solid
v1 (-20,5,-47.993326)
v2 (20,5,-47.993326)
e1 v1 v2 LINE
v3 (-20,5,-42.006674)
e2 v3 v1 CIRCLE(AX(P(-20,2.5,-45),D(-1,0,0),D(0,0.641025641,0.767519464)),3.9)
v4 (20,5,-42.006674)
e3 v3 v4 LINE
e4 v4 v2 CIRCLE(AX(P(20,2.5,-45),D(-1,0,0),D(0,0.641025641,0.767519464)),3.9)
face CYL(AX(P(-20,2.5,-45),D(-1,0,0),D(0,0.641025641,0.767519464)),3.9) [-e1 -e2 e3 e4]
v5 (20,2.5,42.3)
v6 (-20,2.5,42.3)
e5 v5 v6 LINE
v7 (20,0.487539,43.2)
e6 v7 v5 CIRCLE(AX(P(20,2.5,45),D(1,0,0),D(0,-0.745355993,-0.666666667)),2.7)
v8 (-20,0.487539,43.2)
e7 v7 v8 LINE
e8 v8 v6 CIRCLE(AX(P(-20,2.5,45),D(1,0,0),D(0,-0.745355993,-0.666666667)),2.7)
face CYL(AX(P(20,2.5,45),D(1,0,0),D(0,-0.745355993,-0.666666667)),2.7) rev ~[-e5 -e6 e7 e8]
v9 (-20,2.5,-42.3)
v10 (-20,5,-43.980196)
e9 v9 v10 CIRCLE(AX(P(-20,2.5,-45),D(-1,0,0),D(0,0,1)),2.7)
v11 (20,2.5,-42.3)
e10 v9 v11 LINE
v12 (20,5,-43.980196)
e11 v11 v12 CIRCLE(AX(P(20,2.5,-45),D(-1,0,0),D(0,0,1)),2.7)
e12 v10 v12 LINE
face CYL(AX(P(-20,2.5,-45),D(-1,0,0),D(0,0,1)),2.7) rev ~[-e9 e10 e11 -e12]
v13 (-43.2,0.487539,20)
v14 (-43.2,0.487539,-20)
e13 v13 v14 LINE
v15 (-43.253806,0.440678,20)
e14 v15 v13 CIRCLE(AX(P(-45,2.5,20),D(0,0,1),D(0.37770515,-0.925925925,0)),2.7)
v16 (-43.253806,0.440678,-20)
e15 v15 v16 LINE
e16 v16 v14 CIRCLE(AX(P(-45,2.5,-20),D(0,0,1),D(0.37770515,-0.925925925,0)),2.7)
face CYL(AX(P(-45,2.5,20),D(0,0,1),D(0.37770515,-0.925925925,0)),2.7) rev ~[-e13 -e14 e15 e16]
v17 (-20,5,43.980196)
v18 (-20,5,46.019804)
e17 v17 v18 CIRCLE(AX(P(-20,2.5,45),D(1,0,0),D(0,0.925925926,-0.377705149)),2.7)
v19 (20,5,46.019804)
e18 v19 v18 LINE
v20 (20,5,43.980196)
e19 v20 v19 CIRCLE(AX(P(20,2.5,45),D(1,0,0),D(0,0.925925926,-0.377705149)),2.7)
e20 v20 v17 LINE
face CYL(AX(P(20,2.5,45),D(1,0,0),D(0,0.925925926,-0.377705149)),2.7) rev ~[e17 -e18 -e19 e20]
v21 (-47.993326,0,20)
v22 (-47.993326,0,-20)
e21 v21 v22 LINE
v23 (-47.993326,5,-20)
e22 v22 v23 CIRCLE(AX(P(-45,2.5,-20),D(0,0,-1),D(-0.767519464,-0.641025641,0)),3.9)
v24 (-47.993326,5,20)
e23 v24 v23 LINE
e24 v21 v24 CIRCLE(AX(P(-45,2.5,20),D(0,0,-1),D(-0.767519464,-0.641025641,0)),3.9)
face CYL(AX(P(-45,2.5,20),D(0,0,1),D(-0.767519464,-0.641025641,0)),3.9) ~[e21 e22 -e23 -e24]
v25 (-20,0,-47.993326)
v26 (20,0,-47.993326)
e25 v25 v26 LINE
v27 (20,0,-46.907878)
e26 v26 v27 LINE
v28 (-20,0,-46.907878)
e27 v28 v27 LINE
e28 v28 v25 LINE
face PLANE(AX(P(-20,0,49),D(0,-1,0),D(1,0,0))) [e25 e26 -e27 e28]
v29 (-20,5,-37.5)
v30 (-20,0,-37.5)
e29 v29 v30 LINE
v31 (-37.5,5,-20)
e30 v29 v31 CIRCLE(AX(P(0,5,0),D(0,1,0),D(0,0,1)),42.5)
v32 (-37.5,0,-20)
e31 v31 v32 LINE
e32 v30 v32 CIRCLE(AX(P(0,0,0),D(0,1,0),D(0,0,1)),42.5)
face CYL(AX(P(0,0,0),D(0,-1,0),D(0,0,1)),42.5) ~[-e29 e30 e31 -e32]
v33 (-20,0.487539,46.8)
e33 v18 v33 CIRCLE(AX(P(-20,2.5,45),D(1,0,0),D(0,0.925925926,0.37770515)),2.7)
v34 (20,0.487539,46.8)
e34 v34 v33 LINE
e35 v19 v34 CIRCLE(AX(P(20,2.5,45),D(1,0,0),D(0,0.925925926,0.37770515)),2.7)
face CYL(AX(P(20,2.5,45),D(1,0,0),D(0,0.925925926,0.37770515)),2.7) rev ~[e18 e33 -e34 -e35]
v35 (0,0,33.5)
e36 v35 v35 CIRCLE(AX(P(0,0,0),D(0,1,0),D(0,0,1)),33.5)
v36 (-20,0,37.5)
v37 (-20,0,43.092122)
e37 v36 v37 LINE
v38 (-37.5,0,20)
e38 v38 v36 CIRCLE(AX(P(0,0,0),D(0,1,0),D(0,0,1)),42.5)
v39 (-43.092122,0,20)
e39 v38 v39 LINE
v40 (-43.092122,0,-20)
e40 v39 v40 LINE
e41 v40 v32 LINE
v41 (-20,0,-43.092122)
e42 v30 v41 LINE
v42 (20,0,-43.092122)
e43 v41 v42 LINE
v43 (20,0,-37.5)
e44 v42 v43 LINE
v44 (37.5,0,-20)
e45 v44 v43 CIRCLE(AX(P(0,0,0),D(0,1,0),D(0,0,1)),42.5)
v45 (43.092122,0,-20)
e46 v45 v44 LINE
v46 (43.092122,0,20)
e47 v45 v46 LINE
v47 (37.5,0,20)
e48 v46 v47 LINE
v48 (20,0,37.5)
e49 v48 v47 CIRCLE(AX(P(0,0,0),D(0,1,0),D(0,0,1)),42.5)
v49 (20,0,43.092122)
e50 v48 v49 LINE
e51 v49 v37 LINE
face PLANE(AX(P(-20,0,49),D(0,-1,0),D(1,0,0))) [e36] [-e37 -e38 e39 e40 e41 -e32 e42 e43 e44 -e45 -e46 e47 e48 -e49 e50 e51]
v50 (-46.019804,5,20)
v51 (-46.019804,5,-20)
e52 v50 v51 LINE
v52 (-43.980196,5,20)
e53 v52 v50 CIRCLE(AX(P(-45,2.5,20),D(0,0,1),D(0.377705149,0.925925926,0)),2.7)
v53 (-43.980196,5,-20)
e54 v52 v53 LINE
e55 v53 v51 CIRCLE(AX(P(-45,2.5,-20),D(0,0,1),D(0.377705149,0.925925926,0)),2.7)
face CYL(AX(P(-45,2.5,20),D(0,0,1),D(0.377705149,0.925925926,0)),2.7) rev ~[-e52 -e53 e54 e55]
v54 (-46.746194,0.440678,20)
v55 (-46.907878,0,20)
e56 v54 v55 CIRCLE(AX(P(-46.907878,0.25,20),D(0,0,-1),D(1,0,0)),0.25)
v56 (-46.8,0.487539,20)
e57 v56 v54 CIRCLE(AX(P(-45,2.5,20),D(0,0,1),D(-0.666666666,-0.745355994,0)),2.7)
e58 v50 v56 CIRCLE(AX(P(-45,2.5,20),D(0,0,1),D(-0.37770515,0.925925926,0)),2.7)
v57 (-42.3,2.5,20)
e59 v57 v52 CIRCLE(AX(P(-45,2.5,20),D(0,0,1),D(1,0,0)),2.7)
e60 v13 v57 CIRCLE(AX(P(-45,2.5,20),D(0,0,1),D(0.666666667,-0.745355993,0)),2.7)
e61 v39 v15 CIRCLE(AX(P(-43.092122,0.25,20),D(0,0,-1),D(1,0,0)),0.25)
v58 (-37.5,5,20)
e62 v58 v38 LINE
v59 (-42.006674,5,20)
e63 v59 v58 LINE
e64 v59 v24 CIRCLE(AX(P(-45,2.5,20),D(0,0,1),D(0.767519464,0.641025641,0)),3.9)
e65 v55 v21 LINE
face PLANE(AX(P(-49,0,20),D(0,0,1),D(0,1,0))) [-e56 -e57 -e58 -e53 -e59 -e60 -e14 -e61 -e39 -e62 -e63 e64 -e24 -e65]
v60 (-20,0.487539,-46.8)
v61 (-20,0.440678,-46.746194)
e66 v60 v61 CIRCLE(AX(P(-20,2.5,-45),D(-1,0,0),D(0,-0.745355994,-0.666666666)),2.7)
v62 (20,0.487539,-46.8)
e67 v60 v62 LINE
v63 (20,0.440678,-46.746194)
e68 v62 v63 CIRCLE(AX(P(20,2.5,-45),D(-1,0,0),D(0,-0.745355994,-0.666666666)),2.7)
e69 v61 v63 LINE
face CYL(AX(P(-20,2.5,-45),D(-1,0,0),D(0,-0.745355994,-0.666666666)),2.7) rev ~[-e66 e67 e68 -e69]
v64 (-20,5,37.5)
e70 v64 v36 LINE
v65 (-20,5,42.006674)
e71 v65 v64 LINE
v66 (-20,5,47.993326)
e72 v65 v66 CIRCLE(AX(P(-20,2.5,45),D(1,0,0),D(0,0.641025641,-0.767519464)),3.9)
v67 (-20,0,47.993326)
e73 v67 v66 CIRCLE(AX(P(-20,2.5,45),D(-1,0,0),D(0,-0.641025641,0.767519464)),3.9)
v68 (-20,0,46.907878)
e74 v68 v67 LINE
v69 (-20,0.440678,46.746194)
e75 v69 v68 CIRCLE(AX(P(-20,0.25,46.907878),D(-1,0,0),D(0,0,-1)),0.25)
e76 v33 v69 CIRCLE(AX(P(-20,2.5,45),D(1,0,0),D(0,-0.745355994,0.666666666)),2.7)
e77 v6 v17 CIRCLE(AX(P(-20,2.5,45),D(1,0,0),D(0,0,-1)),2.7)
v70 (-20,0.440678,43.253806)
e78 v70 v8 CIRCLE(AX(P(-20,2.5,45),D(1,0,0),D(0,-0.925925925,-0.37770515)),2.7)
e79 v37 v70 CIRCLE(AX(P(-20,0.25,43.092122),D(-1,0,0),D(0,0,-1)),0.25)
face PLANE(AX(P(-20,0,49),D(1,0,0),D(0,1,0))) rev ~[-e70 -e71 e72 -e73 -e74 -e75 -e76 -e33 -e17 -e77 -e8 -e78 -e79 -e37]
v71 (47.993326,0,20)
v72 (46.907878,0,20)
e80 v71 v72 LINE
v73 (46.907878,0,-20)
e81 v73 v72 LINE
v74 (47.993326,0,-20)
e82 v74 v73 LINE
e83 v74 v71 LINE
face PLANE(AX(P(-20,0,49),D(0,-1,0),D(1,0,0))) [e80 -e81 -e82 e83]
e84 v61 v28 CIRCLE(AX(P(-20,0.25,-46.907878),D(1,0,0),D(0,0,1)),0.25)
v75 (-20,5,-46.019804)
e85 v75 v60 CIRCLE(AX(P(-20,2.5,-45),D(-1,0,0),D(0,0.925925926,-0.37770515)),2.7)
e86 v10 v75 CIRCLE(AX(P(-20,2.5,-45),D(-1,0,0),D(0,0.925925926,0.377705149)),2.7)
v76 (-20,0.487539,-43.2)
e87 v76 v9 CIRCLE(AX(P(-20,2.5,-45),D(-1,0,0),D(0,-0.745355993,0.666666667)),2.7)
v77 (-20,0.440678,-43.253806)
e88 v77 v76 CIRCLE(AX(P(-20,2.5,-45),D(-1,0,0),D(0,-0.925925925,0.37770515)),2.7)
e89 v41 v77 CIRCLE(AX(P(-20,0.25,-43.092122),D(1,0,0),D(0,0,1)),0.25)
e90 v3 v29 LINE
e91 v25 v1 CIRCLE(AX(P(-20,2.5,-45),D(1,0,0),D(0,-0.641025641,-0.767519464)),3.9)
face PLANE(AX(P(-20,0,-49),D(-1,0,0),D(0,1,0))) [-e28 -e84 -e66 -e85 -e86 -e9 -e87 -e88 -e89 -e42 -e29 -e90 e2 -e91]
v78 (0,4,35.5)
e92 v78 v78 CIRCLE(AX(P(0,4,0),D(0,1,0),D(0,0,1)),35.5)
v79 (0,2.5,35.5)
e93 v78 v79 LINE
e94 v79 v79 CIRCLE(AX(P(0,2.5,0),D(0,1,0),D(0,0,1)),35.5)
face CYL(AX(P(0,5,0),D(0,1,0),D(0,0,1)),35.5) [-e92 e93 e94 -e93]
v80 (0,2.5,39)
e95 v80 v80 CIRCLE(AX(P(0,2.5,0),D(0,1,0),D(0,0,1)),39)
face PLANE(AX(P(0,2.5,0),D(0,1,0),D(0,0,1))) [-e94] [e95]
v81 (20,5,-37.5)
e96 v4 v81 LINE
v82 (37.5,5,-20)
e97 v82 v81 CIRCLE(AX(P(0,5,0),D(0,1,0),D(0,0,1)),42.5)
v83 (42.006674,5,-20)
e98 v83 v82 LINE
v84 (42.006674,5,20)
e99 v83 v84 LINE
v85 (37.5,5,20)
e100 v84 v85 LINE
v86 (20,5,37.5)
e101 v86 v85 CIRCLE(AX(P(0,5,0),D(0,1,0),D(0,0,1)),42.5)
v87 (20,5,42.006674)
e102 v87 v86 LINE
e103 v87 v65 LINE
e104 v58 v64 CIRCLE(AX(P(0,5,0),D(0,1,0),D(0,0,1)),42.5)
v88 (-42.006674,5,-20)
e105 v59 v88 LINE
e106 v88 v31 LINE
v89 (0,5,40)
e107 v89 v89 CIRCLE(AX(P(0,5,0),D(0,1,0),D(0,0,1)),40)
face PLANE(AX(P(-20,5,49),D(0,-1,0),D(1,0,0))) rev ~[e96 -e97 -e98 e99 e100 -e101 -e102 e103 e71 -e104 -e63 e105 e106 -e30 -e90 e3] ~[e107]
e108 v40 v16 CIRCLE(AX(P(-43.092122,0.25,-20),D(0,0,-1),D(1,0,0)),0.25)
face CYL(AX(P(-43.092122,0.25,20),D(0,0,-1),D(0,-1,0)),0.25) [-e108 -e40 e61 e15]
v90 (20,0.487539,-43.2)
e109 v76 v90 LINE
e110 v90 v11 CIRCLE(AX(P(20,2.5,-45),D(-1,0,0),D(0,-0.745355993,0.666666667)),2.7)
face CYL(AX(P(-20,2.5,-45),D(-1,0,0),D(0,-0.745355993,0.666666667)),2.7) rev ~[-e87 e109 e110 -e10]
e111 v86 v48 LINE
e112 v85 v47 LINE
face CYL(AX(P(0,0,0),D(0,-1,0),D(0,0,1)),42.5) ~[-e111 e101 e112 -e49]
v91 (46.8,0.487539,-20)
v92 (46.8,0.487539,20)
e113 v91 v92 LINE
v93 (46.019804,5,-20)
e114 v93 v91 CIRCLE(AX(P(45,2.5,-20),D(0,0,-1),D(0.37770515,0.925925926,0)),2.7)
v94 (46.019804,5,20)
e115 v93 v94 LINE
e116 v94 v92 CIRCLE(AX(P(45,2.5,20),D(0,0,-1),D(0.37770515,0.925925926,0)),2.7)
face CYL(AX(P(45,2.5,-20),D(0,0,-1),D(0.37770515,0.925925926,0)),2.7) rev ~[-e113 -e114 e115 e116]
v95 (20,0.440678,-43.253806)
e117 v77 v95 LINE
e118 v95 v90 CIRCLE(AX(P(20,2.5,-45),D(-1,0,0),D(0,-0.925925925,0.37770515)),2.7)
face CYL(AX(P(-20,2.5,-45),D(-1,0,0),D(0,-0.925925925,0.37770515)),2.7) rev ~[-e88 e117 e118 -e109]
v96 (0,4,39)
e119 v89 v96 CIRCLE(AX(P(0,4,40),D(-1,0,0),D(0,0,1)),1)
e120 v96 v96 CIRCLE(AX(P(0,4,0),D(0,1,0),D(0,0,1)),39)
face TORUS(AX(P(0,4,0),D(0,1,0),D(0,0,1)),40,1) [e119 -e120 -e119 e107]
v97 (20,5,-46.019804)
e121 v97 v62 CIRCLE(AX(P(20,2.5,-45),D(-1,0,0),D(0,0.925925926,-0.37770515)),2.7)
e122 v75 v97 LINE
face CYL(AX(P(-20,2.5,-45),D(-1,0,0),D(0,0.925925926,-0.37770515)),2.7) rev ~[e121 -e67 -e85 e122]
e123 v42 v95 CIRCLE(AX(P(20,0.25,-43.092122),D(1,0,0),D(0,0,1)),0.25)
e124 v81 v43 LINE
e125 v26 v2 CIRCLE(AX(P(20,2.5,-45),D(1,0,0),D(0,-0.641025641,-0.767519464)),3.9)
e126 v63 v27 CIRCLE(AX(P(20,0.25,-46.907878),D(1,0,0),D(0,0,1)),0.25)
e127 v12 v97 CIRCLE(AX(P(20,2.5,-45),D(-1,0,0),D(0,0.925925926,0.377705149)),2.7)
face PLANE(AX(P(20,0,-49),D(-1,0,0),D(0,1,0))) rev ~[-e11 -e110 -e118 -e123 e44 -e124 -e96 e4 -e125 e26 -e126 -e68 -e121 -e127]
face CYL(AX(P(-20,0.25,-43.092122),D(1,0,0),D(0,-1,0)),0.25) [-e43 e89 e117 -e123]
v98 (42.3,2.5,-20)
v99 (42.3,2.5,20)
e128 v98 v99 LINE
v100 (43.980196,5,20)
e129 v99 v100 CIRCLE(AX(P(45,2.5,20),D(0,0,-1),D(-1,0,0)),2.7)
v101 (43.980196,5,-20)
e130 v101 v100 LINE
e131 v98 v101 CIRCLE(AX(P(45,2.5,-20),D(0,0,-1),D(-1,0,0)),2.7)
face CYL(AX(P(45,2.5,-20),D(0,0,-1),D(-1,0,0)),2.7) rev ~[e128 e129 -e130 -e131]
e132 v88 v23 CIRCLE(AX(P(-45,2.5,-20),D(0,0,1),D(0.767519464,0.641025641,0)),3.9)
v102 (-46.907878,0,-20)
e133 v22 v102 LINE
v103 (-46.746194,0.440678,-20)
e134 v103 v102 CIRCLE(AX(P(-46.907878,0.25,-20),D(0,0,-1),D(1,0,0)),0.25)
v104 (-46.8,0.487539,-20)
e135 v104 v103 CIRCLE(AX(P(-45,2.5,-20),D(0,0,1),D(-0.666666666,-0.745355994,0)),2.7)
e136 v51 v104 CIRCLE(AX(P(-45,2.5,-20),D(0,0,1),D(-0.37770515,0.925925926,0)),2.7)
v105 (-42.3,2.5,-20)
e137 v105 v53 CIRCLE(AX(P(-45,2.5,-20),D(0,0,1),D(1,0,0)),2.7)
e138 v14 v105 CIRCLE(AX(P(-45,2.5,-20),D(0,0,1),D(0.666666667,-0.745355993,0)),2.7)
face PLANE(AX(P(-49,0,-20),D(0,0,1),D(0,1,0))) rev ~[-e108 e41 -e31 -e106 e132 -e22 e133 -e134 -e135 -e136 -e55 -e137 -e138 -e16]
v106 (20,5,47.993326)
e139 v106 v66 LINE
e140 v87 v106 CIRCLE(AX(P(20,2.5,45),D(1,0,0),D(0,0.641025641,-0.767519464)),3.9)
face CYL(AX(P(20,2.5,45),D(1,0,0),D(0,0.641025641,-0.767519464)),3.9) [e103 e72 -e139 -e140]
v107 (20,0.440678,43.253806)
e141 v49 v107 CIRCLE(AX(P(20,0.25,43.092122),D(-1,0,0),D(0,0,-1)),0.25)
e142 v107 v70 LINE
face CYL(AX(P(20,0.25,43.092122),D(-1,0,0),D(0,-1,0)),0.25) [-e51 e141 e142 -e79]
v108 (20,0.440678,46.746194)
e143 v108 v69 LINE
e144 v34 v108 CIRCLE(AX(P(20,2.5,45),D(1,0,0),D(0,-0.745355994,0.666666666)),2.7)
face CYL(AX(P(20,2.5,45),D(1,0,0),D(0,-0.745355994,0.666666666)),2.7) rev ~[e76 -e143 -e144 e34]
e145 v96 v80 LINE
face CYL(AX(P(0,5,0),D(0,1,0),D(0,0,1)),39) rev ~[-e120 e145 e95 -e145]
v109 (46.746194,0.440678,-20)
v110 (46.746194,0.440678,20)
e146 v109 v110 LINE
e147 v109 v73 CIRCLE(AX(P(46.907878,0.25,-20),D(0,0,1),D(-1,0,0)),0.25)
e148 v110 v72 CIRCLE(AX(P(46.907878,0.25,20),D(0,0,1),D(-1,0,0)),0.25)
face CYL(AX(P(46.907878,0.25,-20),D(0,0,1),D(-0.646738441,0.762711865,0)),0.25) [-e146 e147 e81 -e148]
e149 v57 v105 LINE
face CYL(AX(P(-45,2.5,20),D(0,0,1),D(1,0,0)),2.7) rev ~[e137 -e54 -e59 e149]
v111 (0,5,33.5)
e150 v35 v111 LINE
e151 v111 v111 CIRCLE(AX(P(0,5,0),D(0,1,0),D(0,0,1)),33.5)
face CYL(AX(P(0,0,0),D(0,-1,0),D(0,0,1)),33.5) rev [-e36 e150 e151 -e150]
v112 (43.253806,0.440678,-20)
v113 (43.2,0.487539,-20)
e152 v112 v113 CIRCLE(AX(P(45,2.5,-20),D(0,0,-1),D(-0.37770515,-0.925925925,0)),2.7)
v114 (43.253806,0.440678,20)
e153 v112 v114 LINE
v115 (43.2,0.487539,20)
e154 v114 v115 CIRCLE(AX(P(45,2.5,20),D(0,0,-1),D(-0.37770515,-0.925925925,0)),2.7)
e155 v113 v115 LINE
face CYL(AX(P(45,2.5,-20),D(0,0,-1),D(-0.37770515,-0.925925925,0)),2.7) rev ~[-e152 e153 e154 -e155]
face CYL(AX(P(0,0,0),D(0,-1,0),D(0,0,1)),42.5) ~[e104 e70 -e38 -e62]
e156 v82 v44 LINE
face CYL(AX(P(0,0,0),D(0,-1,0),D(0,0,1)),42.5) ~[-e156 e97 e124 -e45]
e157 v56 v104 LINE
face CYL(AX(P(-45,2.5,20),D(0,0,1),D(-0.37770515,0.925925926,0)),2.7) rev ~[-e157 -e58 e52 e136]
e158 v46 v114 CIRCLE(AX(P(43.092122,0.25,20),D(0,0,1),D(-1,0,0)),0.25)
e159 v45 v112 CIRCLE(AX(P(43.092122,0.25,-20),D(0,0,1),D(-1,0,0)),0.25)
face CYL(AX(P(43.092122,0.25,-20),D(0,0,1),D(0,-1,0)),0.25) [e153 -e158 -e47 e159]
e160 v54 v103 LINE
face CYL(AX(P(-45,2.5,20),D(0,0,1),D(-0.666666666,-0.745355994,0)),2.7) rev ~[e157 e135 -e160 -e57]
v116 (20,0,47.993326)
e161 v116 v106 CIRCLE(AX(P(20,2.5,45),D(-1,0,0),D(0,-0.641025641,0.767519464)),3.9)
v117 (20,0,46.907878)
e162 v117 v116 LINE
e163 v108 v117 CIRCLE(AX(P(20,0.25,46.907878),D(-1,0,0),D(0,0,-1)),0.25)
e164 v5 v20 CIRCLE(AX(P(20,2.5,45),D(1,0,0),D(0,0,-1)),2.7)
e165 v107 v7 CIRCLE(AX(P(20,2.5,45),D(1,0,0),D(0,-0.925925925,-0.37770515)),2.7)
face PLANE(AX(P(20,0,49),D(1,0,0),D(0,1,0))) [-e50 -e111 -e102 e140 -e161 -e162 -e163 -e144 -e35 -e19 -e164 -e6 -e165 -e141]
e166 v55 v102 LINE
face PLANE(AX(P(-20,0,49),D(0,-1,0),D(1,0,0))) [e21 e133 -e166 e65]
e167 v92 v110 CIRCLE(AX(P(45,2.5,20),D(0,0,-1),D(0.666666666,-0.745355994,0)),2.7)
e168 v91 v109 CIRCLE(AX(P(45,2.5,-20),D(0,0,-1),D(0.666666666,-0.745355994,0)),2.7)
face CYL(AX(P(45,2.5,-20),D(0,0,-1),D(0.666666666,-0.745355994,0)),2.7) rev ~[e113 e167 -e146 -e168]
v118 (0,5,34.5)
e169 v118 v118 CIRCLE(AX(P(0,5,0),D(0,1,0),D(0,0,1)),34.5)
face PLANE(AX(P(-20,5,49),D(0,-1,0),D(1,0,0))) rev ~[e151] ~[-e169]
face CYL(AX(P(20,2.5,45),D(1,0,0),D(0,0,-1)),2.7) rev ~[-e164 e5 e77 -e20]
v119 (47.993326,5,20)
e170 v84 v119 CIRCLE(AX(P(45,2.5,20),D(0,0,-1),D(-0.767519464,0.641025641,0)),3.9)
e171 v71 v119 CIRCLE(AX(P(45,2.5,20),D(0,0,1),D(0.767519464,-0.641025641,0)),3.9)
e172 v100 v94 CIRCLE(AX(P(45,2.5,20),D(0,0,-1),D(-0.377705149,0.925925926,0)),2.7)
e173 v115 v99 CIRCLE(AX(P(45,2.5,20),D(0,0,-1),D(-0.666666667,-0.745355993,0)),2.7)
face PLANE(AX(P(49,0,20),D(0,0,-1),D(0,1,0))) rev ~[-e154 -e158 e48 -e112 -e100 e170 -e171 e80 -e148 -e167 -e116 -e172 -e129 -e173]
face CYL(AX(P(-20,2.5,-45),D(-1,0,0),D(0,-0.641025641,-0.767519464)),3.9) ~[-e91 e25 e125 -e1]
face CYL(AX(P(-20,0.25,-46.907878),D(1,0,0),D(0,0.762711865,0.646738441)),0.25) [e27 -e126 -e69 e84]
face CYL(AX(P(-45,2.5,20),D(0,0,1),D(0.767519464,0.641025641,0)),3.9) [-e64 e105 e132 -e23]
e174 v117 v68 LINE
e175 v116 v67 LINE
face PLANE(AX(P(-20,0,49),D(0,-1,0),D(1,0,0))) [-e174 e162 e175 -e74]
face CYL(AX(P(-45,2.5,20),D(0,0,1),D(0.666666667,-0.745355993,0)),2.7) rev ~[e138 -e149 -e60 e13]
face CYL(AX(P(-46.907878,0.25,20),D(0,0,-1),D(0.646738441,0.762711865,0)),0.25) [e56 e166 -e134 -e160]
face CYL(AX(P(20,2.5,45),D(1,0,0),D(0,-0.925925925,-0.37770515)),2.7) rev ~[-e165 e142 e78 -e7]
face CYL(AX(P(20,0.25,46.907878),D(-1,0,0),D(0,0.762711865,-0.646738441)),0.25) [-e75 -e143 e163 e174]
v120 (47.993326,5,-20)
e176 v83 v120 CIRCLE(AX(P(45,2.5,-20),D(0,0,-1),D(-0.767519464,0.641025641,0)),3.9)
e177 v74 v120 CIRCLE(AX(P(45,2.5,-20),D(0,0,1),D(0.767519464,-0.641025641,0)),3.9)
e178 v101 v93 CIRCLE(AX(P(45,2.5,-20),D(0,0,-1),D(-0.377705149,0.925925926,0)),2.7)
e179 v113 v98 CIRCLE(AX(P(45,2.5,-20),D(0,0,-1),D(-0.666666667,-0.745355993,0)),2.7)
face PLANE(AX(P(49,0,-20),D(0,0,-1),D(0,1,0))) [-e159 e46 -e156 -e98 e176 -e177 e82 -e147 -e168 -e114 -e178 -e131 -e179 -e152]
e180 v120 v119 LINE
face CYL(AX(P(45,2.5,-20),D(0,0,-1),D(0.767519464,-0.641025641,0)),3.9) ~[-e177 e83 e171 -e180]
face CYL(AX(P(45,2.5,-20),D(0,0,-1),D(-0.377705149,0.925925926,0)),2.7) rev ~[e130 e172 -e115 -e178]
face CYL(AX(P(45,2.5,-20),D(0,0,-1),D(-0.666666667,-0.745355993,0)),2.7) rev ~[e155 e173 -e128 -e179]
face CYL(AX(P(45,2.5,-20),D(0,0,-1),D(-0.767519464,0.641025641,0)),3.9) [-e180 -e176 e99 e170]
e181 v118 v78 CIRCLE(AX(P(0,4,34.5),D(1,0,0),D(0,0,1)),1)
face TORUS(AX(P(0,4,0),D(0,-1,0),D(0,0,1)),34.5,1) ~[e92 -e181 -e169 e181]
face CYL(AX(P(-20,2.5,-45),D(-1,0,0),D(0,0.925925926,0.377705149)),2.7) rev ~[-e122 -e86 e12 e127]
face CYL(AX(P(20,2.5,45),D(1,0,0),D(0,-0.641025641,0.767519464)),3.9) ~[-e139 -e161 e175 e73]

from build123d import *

# Parameters (mm, degrees)
SKETCH_2_R                        = 42.5
SKETCH_2_R_2                      = 33.5
EXTRUDE_1_DEPTH                   = 5
EXTRUDE_2_REACH                   = 103.012
EXTRUDE_2_END_RADIUS              = 42.5
SKETCH_3_W                        = 40
SKETCH_3_H                        = 5
EXTRUDE_4_DEPTH                   = 40
CUT_EXTRUDE_4_DEPTH               = 40
FILLET_2_R                        = 0.25
PATTERN_CIRCULAR_16_COUNT         = 4
FILLET_2_OF_PATTERN_CIRCULAR_16_R = 0.25
SKETCH_6_R                        = 39
SKETCH_6_R_2                      = 35.5
CUT_EXTRUDE_5_DEPTH               = 2.5
FILLET_3_R                        = 1


with BuildPart() as part:
    # Эскиз2 → Бобышка-Вытянуть1 (new body)
    with BuildSketch(Plane(origin=(0, 0, 0), x_dir=(1, 0, 0), z_dir=(0, 1, 0))):
        with Locations(Location((0, 0, 0), (0, 0, 270))):
            Circle(SKETCH_2_R)
        with Locations(Location((0, 0, 0), (0, 0, 270))):
            Circle(SKETCH_2_R_2, mode=Mode.SUBTRACT)
    extrude(amount=EXTRUDE_1_DEPTH)

    # Бобышка-Вытянуть2: up to this cylinder (the profile starts outside it)
    extrude_2_end = Plane(origin=(0, 2.5, 0), z_dir=(0, -1, 0)) * Cylinder(EXTRUDE_2_END_RADIUS, 292.024, mode=Mode.PRIVATE)
    # Эскиз3 → Бобышка-Вытянуть2 (add, up to the surface)
    with BuildSketch(Plane.XY.offset(49), mode=Mode.PRIVATE) as extrude_2_sk1:
        with Locations((0, 2.5)):
            Rectangle(SKETCH_3_W, SKETCH_3_H)
    extrude_2_tool1 = extrude(extrude_2_sk1.sketch, amount=-EXTRUDE_2_REACH, mode=Mode.PRIVATE) - extrude_2_end
    extrude_2 = extrude_2_tool1.solids().sort_by_distance((0, 2.5, 49))[0]
    add(extrude_2)

    # Эскиз13 → Бобышка-Вытянуть4 (add)
    with BuildSketch(Plane(origin=(20, 0, 0), x_dir=(0, 0, -1), z_dir=(1, 0, 0))):
        with BuildLine():
            ThreePointArc((-47.993325909, 0), (-47.444538755, 0.360952762), (-46.8, 0.48753882))
            ThreePointArc((-46.8, 0.48753882), (-47.660526261, 2.960000014), (-46.019803903, 5))
            Line((-46.019803903, 5), (-47.993325909, 5))
            ThreePointArc((-47.993325909, 5), (-48.9, 2.5), (-47.993325909, 0))
        make_face()
        with BuildLine():
            Line((-47.993325909, 5), (-46.019803903, 5))
            ThreePointArc((-46.019803903, 5), (-45, 5.2), (-43.980196097, 5))
            Line((-43.980196097, 5), (-42.006674091, 5))
            ThreePointArc((-42.006674091, 5), (-45, 6.4), (-47.993325909, 5))
        make_face()
        with BuildLine():
            ThreePointArc((-42.3, 2.5), (-42.535248491, 1.397729616), (-43.2, 0.48753882))
            ThreePointArc((-43.2, 0.48753882), (-42.555461245, 0.360952762), (-42.006674091, 0))
            ThreePointArc((-42.006674091, 0), (-41.333668656, 1.170332945), (-41.1, 2.5))
            ThreePointArc((-41.1, 2.5), (-41.333668656, 3.829667055), (-42.006674091, 5))
            Line((-42.006674091, 5), (-43.980196097, 5))
            ThreePointArc((-43.980196097, 5), (-42.759077139, 4.006075938), (-42.3, 2.5))
        make_face()
        with BuildLine():
            ThreePointArc((-43.980196097, 5), (-45, 5.2), (-46.019803903, 5))
            Line((-46.019803903, 5), (-43.980196097, 5))
        make_face()
    extrude_4 = extrude(amount=-EXTRUDE_4_DEPTH)

    # Эскиз13<3> → Вырез-Вытянуть4 (cut)
    with BuildSketch(Plane(origin=(20, 0, 0), x_dir=(0, 0, -1), z_dir=(1, 0, 0))):
        with BuildLine():
            ThreePointArc((-46.019803903, 5), (-47.660526261, 2.960000014), (-46.8, 0.48753882))
            Line((-46.8, 0.48753882), (-43.2, 0.48753882))
            ThreePointArc((-43.2, 0.48753882), (-42.535248491, 1.397729616), (-42.3, 2.5))
            ThreePointArc((-42.3, 2.5), (-42.759077139, 4.006075938), (-43.980196097, 5))
            Line((-43.980196097, 5), (-46.019803903, 5))
        make_face()
        with BuildLine():
            ThreePointArc((-43.980196097, 5), (-45, 5.2), (-46.019803903, 5))
            Line((-46.019803903, 5), (-43.980196097, 5))
        make_face()
        with BuildLine():
            Line((-43.2, 0.48753882), (-46.8, 0.48753882))
            ThreePointArc((-46.8, 0.48753882), (-46.430820407, 0.210294132), (-46.019803903, 0))
            Line((-46.019803903, 0), (-43.980196097, 0))
            ThreePointArc((-43.980196097, 0), (-43.569179593, 0.210294132), (-43.2, 0.48753882))
        make_face()
        with BuildLine():
            Line((-49, 0), (-47.993325909, 0))
            ThreePointArc((-47.993325909, 0), (-48.9, 2.5), (-47.993325909, 5))
            Line((-47.993325909, 5), (-49, 5))
            Line((-49, 5), (-49, 0))
        make_face()
    cut_extrude_4 = extrude(amount=-CUT_EXTRUDE_4_DEPTH, mode=Mode.SUBTRACT)

    # Скругление2
    fillet_2_edges = [part.edges().sort_by_distance(p)[0] for p in [
        (0, 0, 43.980196097),
        (0, 0, 46.019803903),
    ]]
    fillet(fillet_2_edges, radius=FILLET_2_R)

    # Круговой массив16: Бобышка-Вытянуть2, Бобышка-Вытянуть4, Вырез-Вытянуть4 ×4 about axis
    pattern_circular_16_axis = Axis((0, 0, 0), (0, 1, 0))
    add([extrude_2.rotate(pattern_circular_16_axis, i * 360 / PATTERN_CIRCULAR_16_COUNT) for i in range(1, PATTERN_CIRCULAR_16_COUNT)])
    add([extrude_4.rotate(pattern_circular_16_axis, i * 360 / PATTERN_CIRCULAR_16_COUNT) for i in range(1, PATTERN_CIRCULAR_16_COUNT)])
    add([cut_extrude_4.rotate(pattern_circular_16_axis, i * 360 / PATTERN_CIRCULAR_16_COUNT) for i in range(1, PATTERN_CIRCULAR_16_COUNT)], mode=Mode.SUBTRACT)

    # Скругление2 of Круговой массив16
    fillet_2_of_pattern_circular_16_edges = [part.edges().sort_by_distance(p)[0] for p in [
        (43.980196097, 0, 0),
        (46.019803903, 0, 0),
        (0, 0, -43.980196097),
        (0, 0, -46.019803903),
        (-43.980196097, 0, 0),
        (-46.019803903, 0, 0),
    ]]
    fillet(fillet_2_of_pattern_circular_16_edges, radius=FILLET_2_OF_PATTERN_CIRCULAR_16_R)

    # Эскиз6 → Вырез-Вытянуть5 (cut)
    with BuildSketch(Plane(origin=(0, 5, 0), x_dir=(1, 0, 0), z_dir=(0, 1, 0))):
        with Locations(Location((0, 0, 0), (0, 0, 270))):
            Circle(SKETCH_6_R)
        with Locations(Location((0, 0, 0), (0, 0, 270))):
            Circle(SKETCH_6_R_2, mode=Mode.SUBTRACT)
    extrude(amount=-CUT_EXTRUDE_5_DEPTH, mode=Mode.SUBTRACT)

    # Скругление3
    fillet_3_edges = [part.edges().sort_by_distance(p)[0] for p in [
        (0, 5, -39),
        (0, 5, -35.5),
    ]]
    fillet(fillet_3_edges, radius=FILLET_3_R)


solid = part.part
